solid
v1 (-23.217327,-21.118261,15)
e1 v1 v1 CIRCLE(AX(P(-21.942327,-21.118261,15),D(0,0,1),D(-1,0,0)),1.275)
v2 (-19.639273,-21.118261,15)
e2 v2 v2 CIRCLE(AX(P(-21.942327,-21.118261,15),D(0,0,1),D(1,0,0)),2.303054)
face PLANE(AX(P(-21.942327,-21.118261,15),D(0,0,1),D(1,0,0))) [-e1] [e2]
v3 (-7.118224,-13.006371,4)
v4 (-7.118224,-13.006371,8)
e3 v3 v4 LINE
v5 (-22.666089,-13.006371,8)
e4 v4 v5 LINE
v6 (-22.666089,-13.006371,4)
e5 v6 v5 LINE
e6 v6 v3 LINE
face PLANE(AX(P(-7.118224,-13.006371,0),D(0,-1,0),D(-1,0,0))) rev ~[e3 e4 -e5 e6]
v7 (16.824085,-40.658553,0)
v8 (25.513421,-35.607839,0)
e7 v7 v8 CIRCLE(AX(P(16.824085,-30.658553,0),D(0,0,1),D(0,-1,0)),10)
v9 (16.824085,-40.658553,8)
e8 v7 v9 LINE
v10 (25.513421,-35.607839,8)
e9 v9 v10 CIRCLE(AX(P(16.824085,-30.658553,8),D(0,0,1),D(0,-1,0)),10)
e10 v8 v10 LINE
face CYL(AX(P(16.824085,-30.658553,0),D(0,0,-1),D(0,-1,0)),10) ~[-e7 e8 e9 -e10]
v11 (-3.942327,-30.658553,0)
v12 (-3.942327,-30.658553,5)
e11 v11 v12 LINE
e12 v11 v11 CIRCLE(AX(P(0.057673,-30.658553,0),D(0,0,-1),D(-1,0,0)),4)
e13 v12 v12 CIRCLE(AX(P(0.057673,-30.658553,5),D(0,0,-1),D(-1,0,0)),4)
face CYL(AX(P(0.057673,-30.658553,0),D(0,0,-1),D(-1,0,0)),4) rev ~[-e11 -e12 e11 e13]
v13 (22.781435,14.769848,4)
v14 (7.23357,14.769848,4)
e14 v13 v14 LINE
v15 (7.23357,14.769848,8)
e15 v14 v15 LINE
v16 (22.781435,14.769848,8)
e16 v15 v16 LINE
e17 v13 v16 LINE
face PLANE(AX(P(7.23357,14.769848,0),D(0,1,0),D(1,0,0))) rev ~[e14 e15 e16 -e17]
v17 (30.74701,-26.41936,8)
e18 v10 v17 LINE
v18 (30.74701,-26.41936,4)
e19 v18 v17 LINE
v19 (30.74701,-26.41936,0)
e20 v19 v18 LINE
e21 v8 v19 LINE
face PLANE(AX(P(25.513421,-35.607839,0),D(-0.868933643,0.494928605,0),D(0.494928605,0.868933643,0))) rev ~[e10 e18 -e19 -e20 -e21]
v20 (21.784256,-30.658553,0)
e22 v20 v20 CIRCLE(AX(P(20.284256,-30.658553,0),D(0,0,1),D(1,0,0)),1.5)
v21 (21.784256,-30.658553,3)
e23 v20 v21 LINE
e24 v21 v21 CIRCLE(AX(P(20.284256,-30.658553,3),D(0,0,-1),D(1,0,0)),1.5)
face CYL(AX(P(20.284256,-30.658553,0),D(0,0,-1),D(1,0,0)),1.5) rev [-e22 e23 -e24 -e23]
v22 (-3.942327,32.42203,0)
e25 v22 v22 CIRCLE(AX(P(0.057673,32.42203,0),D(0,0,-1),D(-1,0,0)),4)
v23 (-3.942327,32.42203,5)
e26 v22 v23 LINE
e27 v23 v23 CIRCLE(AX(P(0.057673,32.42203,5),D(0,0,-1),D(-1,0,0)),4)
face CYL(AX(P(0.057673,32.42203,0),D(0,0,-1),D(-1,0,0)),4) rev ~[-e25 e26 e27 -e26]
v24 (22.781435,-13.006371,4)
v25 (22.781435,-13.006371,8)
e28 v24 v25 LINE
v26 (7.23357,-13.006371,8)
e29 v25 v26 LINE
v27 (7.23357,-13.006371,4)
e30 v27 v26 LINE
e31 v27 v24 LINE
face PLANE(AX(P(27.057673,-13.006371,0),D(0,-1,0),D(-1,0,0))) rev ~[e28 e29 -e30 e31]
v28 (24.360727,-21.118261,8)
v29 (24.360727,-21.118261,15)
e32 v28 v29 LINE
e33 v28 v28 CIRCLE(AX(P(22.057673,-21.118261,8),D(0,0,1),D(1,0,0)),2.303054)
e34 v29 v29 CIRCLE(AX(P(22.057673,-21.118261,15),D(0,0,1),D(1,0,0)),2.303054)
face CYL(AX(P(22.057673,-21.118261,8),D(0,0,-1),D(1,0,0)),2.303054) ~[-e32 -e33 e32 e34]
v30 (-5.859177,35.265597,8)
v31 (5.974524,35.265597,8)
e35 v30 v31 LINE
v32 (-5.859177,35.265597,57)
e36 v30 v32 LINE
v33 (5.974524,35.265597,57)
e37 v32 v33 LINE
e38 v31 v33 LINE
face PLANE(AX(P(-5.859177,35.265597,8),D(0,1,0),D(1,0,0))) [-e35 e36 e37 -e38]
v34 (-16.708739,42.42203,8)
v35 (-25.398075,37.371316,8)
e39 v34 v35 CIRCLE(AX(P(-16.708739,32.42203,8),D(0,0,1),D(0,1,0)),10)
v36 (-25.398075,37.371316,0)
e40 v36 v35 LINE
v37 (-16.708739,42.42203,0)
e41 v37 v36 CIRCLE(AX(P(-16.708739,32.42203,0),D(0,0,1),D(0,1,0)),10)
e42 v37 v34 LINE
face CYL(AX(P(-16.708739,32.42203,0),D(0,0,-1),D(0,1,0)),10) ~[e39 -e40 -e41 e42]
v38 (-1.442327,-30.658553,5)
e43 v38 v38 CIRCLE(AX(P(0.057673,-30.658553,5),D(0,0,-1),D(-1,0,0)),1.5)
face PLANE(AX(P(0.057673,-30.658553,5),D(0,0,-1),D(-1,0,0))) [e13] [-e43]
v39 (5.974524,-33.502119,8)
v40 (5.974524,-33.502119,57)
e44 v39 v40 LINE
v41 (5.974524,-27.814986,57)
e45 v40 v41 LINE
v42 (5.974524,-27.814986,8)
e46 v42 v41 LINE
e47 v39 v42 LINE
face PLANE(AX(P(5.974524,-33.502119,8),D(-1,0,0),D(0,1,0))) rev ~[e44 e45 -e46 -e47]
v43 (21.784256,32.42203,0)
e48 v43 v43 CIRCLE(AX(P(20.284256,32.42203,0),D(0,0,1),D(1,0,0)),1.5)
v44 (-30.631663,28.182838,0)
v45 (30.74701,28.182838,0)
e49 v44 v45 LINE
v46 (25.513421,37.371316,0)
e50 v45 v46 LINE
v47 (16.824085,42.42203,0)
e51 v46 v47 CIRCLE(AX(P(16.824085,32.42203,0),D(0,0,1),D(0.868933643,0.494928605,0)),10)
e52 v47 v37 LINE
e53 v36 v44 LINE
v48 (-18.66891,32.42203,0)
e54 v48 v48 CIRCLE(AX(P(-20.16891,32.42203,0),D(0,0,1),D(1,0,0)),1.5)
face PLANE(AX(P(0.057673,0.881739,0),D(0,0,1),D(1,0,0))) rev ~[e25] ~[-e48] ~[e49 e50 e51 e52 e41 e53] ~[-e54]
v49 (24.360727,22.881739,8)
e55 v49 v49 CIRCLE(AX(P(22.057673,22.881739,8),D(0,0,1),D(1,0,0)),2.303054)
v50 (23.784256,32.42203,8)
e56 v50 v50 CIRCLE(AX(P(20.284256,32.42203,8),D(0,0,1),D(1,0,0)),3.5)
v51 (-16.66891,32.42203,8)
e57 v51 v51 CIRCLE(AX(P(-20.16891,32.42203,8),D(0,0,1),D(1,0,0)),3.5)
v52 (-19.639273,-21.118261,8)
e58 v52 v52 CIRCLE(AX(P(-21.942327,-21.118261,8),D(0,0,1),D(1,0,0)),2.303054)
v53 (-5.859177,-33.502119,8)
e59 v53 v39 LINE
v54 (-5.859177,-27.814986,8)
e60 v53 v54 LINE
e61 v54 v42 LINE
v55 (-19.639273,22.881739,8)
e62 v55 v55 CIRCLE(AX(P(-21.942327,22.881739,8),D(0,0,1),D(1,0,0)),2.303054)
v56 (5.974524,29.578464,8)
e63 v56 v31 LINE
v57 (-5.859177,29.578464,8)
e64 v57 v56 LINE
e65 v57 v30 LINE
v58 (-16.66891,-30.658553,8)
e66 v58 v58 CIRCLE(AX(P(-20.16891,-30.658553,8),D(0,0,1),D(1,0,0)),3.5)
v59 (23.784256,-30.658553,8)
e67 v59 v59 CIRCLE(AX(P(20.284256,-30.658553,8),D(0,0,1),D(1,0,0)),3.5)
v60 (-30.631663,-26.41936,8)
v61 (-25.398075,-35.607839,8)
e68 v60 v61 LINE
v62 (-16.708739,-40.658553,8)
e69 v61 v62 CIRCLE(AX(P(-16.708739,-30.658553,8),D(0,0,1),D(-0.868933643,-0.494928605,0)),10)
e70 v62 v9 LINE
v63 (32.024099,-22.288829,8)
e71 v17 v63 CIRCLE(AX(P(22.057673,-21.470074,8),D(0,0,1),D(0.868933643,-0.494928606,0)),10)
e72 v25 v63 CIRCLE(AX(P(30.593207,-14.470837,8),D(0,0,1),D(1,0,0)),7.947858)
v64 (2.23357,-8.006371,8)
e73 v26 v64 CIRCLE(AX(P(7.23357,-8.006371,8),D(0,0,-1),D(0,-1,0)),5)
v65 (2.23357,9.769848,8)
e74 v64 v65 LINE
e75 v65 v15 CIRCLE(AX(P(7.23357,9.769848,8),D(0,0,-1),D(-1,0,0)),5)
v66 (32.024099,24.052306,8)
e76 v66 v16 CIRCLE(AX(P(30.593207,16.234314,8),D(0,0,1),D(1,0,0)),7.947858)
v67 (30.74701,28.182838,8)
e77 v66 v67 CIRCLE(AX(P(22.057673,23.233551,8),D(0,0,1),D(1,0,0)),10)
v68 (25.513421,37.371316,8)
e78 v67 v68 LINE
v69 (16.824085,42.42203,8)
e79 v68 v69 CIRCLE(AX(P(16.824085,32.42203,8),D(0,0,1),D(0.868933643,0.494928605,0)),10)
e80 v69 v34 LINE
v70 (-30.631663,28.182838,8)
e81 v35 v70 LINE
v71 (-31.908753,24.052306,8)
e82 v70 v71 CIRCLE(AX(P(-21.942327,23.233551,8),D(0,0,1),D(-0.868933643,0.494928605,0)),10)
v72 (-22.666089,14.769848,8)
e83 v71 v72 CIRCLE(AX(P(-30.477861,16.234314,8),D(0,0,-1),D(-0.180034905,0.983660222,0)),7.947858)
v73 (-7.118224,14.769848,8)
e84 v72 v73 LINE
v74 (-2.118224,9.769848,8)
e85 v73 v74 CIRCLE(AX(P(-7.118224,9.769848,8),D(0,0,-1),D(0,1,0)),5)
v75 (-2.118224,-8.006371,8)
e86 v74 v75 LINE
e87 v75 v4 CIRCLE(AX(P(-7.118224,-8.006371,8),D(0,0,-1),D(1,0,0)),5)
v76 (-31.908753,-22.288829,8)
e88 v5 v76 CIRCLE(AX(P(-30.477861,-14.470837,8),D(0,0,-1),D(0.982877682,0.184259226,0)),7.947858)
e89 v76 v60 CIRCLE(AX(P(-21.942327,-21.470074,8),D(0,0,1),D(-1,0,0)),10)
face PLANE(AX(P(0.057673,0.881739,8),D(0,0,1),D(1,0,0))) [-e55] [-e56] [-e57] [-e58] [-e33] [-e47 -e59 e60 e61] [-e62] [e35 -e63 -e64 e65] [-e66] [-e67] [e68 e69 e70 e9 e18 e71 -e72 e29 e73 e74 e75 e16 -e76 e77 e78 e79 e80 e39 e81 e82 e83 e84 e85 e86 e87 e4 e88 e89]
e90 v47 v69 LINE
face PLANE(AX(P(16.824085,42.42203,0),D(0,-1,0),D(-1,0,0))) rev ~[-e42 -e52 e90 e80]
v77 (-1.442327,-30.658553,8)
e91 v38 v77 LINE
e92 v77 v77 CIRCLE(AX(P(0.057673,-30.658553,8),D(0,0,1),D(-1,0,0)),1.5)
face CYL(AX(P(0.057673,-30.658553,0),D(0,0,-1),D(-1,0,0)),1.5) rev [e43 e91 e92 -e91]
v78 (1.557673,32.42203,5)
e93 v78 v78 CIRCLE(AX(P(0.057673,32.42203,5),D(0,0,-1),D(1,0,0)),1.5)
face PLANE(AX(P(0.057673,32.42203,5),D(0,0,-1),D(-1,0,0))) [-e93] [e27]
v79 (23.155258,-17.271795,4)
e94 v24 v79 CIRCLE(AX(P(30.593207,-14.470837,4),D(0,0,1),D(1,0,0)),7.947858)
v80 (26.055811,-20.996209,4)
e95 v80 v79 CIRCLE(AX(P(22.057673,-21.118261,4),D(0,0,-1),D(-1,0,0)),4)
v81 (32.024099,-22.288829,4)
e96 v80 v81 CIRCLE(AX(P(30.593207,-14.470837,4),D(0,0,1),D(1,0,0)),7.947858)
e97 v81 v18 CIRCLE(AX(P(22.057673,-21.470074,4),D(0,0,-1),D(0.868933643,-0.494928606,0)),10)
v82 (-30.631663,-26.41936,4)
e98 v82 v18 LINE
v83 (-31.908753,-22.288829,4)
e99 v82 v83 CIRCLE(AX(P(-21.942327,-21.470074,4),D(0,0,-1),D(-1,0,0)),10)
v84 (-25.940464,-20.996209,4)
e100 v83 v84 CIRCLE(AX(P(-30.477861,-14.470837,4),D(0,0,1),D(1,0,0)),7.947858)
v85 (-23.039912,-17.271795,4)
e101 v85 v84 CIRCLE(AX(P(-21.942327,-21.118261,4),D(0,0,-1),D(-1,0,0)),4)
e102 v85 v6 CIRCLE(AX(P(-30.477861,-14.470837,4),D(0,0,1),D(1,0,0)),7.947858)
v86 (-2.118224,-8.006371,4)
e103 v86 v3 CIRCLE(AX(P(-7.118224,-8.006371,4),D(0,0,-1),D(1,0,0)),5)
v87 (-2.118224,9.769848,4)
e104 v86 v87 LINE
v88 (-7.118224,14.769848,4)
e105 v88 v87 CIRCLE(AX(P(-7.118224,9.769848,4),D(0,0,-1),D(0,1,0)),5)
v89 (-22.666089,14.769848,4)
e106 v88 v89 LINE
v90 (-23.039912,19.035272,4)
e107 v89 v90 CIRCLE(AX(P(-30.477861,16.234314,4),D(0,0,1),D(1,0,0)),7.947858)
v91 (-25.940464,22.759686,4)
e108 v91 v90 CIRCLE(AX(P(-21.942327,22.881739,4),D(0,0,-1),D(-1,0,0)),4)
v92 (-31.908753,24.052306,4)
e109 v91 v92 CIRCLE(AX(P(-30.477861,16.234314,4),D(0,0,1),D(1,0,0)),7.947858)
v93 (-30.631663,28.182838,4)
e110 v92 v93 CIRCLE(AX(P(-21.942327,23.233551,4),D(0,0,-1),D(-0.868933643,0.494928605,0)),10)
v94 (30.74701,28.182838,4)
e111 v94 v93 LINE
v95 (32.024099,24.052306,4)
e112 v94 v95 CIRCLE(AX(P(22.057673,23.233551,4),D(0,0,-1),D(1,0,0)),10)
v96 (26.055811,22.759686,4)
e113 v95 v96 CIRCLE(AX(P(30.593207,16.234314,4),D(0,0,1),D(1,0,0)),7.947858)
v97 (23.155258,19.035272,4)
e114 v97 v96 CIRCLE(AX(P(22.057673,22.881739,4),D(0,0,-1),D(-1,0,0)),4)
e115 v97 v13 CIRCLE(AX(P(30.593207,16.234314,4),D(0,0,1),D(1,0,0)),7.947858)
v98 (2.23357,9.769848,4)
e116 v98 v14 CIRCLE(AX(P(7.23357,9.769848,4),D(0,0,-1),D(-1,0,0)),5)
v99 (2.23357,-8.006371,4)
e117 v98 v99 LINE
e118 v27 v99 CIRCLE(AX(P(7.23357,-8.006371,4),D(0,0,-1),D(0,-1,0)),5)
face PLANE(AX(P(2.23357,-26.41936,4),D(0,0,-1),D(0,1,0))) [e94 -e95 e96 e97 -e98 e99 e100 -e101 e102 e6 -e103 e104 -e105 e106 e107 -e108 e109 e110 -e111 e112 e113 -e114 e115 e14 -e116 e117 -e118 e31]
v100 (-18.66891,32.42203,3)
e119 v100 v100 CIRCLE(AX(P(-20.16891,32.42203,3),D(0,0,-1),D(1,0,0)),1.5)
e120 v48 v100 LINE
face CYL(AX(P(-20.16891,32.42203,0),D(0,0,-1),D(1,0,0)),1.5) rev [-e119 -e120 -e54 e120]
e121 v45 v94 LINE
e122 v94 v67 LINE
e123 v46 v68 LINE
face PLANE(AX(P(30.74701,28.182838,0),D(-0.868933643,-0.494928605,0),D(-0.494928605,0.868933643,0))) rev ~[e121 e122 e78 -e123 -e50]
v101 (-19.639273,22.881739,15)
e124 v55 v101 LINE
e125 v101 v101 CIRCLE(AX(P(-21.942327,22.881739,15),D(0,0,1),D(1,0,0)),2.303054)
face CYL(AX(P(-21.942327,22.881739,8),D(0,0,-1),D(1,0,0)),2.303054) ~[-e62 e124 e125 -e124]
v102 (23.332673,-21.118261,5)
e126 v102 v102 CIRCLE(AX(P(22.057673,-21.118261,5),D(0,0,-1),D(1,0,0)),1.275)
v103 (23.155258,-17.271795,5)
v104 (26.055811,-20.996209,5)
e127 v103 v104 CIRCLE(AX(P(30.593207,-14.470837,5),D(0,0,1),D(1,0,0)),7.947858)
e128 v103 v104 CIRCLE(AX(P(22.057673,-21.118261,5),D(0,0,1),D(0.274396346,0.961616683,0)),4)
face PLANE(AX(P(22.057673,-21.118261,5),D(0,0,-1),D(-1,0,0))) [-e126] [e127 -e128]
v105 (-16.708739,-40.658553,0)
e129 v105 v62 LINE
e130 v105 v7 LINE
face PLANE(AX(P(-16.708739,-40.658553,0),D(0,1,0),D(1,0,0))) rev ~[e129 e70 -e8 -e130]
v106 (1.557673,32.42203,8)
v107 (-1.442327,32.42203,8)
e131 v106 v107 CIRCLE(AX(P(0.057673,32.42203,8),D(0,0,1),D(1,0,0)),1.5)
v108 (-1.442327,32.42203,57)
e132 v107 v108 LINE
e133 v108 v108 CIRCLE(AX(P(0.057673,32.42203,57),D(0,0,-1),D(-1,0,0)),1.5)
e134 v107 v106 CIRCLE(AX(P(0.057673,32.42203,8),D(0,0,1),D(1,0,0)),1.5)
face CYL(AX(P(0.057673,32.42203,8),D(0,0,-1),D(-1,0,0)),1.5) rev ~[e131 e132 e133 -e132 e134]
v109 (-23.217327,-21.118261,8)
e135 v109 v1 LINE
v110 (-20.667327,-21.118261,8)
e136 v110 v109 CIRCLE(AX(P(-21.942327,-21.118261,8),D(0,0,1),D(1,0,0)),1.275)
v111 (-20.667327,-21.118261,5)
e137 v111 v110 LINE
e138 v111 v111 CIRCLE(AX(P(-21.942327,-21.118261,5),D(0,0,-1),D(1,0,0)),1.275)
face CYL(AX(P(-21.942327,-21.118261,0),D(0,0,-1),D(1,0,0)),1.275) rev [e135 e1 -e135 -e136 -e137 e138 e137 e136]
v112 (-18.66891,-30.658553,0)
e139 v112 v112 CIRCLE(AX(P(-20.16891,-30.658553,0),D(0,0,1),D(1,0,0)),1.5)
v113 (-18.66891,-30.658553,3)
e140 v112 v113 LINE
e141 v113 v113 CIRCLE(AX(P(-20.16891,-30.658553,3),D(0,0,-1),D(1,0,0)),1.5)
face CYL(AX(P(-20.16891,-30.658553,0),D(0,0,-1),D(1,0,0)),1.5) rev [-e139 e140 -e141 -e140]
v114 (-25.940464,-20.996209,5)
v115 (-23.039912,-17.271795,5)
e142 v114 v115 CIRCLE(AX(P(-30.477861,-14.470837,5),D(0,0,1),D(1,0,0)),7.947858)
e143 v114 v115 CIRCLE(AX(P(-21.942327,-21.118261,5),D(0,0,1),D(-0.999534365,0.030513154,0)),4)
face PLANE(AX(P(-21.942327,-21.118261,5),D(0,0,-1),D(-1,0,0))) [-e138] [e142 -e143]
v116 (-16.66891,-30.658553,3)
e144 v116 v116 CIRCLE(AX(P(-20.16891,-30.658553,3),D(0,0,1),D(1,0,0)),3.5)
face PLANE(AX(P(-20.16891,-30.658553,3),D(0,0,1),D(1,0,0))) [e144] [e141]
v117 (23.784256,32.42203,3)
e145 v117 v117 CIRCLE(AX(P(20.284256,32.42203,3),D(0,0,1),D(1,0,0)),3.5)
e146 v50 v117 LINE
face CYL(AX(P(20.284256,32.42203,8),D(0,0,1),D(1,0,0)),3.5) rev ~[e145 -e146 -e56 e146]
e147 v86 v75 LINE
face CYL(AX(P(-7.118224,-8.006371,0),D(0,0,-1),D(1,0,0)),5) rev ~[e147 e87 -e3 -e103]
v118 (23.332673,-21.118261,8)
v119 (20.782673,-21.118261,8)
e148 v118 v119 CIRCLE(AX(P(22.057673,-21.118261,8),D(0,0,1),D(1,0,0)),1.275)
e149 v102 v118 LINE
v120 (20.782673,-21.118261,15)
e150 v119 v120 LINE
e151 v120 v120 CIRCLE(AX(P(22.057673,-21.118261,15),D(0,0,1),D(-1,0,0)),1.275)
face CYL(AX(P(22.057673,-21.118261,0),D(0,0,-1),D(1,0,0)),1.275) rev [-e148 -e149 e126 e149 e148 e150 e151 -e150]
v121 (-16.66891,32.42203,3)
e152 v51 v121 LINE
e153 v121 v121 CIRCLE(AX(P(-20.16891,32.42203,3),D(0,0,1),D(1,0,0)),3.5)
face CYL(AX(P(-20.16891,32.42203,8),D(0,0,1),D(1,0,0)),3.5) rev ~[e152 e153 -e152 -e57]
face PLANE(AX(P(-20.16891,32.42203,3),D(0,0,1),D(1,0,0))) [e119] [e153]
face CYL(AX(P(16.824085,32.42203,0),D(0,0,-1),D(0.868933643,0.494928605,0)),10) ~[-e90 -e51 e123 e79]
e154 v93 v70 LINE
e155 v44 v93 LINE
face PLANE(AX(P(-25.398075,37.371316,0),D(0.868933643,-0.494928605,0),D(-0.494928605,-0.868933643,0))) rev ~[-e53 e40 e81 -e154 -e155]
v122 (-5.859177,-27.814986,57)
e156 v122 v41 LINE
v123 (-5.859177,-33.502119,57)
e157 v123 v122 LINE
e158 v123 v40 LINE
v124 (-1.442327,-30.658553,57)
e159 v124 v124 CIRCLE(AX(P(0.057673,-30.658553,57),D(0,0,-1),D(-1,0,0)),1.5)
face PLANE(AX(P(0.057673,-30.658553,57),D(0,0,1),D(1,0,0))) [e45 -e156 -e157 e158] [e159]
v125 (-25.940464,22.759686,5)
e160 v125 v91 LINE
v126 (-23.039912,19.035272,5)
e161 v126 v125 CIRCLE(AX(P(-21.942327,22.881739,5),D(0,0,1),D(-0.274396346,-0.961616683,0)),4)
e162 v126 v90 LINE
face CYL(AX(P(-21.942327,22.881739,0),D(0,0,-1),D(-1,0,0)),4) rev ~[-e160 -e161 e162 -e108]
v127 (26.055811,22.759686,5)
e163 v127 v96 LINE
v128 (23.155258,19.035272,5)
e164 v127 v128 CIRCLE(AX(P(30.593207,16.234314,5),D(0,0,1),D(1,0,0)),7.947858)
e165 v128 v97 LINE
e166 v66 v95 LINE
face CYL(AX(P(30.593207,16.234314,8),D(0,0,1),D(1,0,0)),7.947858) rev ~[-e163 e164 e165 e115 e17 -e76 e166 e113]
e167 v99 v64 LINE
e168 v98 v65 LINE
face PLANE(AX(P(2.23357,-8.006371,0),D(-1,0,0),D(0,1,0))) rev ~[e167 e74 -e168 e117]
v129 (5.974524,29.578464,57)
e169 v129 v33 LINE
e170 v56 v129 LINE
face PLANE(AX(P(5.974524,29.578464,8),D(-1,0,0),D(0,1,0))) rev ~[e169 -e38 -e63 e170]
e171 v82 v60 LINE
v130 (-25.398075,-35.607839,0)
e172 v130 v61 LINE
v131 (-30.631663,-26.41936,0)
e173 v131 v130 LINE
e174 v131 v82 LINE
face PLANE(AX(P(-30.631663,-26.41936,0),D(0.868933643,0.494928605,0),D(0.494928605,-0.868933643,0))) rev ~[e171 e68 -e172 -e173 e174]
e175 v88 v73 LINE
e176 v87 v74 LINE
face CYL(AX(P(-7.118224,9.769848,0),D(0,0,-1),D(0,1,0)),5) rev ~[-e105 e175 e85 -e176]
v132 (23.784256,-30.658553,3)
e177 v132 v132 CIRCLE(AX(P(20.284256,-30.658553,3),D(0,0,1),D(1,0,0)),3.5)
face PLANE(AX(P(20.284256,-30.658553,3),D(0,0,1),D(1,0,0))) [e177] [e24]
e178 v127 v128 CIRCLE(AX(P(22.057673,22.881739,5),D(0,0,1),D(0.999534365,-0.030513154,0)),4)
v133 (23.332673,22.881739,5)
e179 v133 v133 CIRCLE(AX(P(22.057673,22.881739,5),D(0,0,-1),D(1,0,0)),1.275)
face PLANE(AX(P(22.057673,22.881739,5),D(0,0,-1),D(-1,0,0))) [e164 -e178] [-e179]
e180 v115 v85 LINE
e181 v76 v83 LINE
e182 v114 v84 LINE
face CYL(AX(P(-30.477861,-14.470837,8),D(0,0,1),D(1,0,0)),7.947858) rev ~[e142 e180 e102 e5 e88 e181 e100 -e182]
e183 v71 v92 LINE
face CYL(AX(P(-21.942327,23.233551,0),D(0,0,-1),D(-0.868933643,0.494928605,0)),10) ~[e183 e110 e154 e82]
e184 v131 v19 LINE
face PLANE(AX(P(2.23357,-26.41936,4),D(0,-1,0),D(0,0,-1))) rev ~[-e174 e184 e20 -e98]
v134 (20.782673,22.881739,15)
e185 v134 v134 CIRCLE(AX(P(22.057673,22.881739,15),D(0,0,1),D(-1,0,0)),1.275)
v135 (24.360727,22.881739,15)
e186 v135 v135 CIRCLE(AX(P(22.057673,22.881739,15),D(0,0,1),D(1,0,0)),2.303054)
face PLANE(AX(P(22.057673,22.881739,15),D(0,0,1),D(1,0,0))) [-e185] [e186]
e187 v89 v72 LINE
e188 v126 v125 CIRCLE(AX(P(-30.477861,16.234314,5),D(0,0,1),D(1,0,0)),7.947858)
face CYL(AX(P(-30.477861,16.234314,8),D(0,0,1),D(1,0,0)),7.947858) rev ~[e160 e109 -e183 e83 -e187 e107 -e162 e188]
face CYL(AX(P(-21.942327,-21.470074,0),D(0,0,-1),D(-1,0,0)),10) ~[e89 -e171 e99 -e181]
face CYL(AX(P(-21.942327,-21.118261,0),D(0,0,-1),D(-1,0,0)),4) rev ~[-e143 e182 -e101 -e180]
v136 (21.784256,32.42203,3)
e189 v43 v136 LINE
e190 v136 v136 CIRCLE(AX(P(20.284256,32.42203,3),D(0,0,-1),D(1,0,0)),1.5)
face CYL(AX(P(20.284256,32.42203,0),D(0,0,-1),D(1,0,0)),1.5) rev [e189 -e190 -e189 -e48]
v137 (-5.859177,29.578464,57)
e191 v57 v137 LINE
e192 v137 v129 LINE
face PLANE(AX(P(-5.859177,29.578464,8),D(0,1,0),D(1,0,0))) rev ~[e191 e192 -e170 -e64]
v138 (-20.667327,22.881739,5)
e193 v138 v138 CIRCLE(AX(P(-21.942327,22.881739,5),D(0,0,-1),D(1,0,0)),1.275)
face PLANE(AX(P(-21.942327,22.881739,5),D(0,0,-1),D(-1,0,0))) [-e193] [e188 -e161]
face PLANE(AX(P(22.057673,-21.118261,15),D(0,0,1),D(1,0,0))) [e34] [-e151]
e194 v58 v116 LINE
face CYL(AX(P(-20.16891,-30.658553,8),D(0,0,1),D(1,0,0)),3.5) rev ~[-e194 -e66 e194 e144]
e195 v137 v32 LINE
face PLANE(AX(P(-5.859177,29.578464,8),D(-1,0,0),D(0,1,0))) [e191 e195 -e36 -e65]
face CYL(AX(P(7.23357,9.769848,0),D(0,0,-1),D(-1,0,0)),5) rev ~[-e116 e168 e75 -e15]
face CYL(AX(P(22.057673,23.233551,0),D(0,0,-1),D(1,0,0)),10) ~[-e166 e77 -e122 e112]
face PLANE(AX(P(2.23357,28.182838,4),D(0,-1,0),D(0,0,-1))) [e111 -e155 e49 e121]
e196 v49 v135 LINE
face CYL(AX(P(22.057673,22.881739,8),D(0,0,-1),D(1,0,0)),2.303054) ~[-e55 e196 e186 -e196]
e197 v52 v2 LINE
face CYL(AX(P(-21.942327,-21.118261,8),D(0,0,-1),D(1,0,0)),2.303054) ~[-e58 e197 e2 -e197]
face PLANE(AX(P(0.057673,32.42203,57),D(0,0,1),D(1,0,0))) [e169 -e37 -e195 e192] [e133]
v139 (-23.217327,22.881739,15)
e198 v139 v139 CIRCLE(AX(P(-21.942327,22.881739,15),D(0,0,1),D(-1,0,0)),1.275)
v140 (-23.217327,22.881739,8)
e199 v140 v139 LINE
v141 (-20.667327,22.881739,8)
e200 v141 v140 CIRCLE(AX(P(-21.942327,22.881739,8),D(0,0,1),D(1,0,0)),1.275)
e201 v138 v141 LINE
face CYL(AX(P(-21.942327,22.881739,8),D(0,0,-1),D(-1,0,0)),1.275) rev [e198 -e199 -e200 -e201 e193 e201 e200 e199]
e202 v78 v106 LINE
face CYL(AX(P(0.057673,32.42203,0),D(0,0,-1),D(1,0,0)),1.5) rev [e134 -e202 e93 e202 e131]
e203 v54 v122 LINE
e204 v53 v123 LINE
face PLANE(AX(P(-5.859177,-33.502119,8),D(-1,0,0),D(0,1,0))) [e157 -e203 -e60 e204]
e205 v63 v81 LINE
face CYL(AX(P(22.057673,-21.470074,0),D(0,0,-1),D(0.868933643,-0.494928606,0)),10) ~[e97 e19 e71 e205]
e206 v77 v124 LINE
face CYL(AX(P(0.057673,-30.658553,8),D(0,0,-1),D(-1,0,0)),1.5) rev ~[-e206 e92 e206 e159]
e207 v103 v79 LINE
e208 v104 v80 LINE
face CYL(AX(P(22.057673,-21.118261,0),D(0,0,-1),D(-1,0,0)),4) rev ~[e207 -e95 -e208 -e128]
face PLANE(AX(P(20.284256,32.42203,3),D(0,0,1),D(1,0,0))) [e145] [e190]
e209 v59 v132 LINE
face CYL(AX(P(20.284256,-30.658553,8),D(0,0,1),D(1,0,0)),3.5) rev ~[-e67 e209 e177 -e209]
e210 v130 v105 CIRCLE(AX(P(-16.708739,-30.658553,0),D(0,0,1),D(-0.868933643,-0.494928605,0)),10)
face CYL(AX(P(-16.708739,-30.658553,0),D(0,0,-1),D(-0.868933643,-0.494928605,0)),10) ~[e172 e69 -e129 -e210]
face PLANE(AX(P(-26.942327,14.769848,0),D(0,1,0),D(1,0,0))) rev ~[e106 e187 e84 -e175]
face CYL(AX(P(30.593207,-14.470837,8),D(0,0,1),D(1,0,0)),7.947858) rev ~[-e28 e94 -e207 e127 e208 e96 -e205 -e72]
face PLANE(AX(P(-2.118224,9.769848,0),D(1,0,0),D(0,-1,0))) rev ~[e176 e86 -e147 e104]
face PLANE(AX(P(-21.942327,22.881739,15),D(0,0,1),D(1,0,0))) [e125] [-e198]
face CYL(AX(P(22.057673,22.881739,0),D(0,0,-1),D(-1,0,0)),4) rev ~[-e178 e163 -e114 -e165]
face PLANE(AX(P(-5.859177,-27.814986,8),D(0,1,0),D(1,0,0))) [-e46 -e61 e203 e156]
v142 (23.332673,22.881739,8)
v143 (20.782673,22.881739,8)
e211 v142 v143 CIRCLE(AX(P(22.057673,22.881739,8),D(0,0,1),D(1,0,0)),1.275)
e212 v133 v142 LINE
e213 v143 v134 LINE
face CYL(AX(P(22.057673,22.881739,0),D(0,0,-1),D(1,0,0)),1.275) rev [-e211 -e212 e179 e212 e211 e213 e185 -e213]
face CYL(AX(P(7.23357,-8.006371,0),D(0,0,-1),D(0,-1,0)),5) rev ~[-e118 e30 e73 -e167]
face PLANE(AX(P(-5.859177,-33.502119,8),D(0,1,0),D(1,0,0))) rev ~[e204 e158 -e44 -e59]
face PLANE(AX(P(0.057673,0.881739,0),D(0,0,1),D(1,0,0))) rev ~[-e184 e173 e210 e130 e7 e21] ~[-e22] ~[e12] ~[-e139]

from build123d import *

# Parameters (mm, degrees)
IZIM1_R                     = 1.5
IZIM1_R_2                   = 1.275
Y_KSEKLIK_EKSTR_ZYON1_DEPTH = 8
IZIM2_R                     = 4
KES_EKSTR_ZYON1_DEPTH       = 5
IZIM3_R                     = 3.5
KES_EKSTR_ZYON2_DEPTH       = 5
IZIM5_W                     = 11.833700998
IZIM5_H                     = 5.687133077
Y_KSEKLIK_EKSTR_ZYON2_DEPTH = 49
IZIM6_R                     = 1.5
KES_EKSTR_ZYON3_DEPTH       = 70
IZIM7_R                     = 7.94785764
KES_EKSTR_ZYON4_DEPTH       = 94.5
IZIM8_R                     = 2.303053837
IZIM8_R_2                   = 1.275
Y_KSEKLIK_EKSTR_ZYON3_DEPTH = 7
IZIM9_W                     = 9.184473095
IZIM9_H                     = 54.60219781
KES_EKSTR_ZYON5_DEPTH       = 49


with BuildPart() as part:
    # Çizim1 → Yükseklik-Ekstrüzyon1 (new body)
    with BuildSketch(Plane.XY):
        with BuildLine():
            Line((-26.942326891, 14.769848309), (-7.118223783, 14.769848309))
            ThreePointArc((-7.118223783, 14.769848309), (-3.582689877, 13.305382214), (-2.118223783, 9.769848309))
            Line((-2.118223783, 9.769848309), (-2.118223783, -8.006371062))
            ThreePointArc((-2.118223783, -8.006371062), (-3.582689877, -11.541904968), (-7.118223783, -13.006371062))
            Line((-7.118223783, -13.006371062), (-26.942326891, -13.006371062))
            ThreePointArc((-26.942326891, -13.006371062), (-30.477860797, -14.470837156), (-31.942326891, -18.006371062))
            Line((-31.942326891, -18.006371062), (-31.942326891, -21.470074229))
            ThreePointArc((-31.942326891, -21.470074229), (-31.6091093, -24.030019123), (-30.63166332, -26.419360282))
            Line((-30.63166332, -26.419360282), (-25.398075072, -35.607838889))
            ThreePointArc((-25.398075072, -35.607838889), (-21.734031643, -39.304154624), (-16.708738643, -40.658552836))
            Line((-16.708738643, -40.658552836), (16.824084861, -40.658552836))
            ThreePointArc((16.824084861, -40.658552836), (21.849377861, -39.304154624), (25.513421289, -35.607838889))
            Line((25.513421289, -35.607838889), (30.747009537, -26.419360282))
            ThreePointArc((30.747009537, -26.419360282), (31.724455518, -24.030019123), (32.057673109, -21.470074229))
            Line((32.057673109, -21.470074229), (32.057673109, -18.006371062))
            ThreePointArc((32.057673109, -18.006371062), (30.593207015, -14.470837156), (27.057673109, -13.006371062))
            Line((27.057673109, -13.006371062), (7.233570001, -13.006371062))
            ThreePointArc((7.233570001, -13.006371062), (3.698036095, -11.541904968), (2.233570001, -8.006371062))
            Line((2.233570001, -8.006371062), (2.233570001, 9.769848309))
            ThreePointArc((2.233570001, 9.769848309), (3.698036095, 13.305382214), (7.233570001, 14.769848309))
            Line((7.233570001, 14.769848309), (27.057673109, 14.769848309))
            ThreePointArc((27.057673109, 14.769848309), (30.593207015, 16.234314403), (32.057673109, 19.769848309))
            Line((32.057673109, 19.769848309), (32.057673109, 23.233551476))
            ThreePointArc((32.057673109, 23.233551476), (31.724455518, 25.793496369), (30.747009537, 28.182837528))
            Line((30.747009537, 28.182837528), (25.513421289, 37.371316135))
            ThreePointArc((25.513421289, 37.371316135), (21.849377861, 41.06763187), (16.824084861, 42.422030083))
            Line((16.824084861, 42.422030083), (-16.708738643, 42.422030083))
            ThreePointArc((-16.708738643, 42.422030083), (-21.734031643, 41.06763187), (-25.398075072, 37.371316135))
            Line((-25.398075072, 37.371316135), (-30.63166332, 28.182837528))
            ThreePointArc((-30.63166332, 28.182837528), (-31.6091093, 25.793496369), (-31.942326891, 23.233551476))
            Line((-31.942326891, 23.233551476), (-31.942326891, 19.769848309))
            ThreePointArc((-31.942326891, 19.769848309), (-30.477860797, 16.234314403), (-26.942326891, 14.769848309))
        make_face()
        with Locations((20.284256069, 32.422030083)):
            Circle(IZIM1_R, mode=Mode.SUBTRACT)
        with Locations((-20.168909852, 32.422030083)):
            Circle(IZIM1_R, mode=Mode.SUBTRACT)
        with Locations((-20.168909852, -30.658552836)):
            Circle(IZIM1_R, mode=Mode.SUBTRACT)
        with Locations((20.284256069, -30.658552836)):
            Circle(IZIM1_R, mode=Mode.SUBTRACT)
        with Locations((22.057673109, -21.118261377)):
            Circle(IZIM1_R_2, mode=Mode.SUBTRACT)
        with Locations((-21.942326891, -21.118261377)):
            Circle(IZIM1_R_2, mode=Mode.SUBTRACT)
        with Locations((22.057673109, 22.881738623)):
            Circle(IZIM1_R_2, mode=Mode.SUBTRACT)
        with Locations((-21.942326891, 22.881738623)):
            Circle(IZIM1_R_2, mode=Mode.SUBTRACT)
        with Locations((0.057673109, 32.422030083)):
            Circle(IZIM1_R, mode=Mode.SUBTRACT)
        with Locations(Location((0.057673109, -30.658552836, 0), (0, 0, 180))):
            Circle(IZIM1_R, mode=Mode.SUBTRACT)
    extrude(amount=Y_KSEKLIK_EKSTR_ZYON1_DEPTH)

    # Çizim2 → Kes-Ekstrüzyon1 (cut)
    with BuildSketch(Plane(origin=(0, 0, 0), x_dir=(-1, 0, 0), z_dir=(0, 0, -1))):
        with Locations((-22.057673109, 22.881738623)):
            Circle(IZIM2_R)
        with Locations((21.942326891, 22.881738623)):
            Circle(IZIM2_R)
        with Locations((-22.057673109, -21.118261377)):
            Circle(IZIM2_R)
        with Locations((21.942326891, -21.118261377)):
            Circle(IZIM2_R)
        with Locations((-0.057673109, 32.422030083)):
            Circle(IZIM2_R)
        with Locations((-0.057673109, -30.658552836)):
            Circle(IZIM2_R)
    extrude(amount=-KES_EKSTR_ZYON1_DEPTH, mode=Mode.SUBTRACT)

    # Çizim3 → Kes-Ekstrüzyon2 (cut)
    with BuildSketch(Plane.XY.offset(8)):
        with Locations((-20.168909852, 32.422030083)):
            Circle(IZIM3_R)
        with Locations((20.284256069, 32.422030083)):
            Circle(IZIM3_R)
        with Locations((20.284256069, -30.658552836)):
            Circle(IZIM3_R)
        with Locations((-20.168909852, -30.658552836)):
            Circle(IZIM3_R)
    extrude(amount=-KES_EKSTR_ZYON2_DEPTH, mode=Mode.SUBTRACT)

    # Çizim5 → Yükseklik-Ekstrüzyon2 (add)
    with BuildSketch(Plane.XY.offset(8)):
        with Locations((0.057673109, 32.422030083)):
            Rectangle(IZIM5_W, IZIM5_H)
        with Locations((0.057673109, -30.658552837)):
            Rectangle(IZIM5_W, IZIM5_H)
    extrude(amount=Y_KSEKLIK_EKSTR_ZYON2_DEPTH)

    # Çizim6 → Kes-Ekstrüzyon3 (cut)
    with BuildSketch(Plane(origin=(0, 0, 8), x_dir=(-1, 0, 0), z_dir=(0, 0, -1))):
        with Locations((-0.057673109, -30.658552836)):
            Circle(IZIM6_R)
        with Locations((-0.057673109, 32.422030083)):
            Circle(IZIM6_R)
    extrude(amount=-KES_EKSTR_ZYON3_DEPTH, mode=Mode.SUBTRACT)

    # Çizim7 → Kes-Ekstrüzyon4 (cut, symmetric)
    with BuildSketch(Plane.XY.offset(8)):
        with Locations((30.593207015, 16.234314403)):
            Circle(IZIM7_R)
        with Locations((-30.477860797, 16.234314403)):
            Circle(IZIM7_R)
        with Locations((30.593207015, -14.470837156)):
            Circle(IZIM7_R)
        with Locations((-30.477860797, -14.470837156)):
            Circle(IZIM7_R)
    extrude(amount=KES_EKSTR_ZYON4_DEPTH, both=True, mode=Mode.SUBTRACT)

    # Çizim8 → Yükseklik-Ekstrüzyon3 (add)
    # profile 1 of 4: a face of its own
    with BuildSketch(Plane.XY.offset(8)):
        with Locations((-21.942326891, 22.881738623)):
            Circle(IZIM8_R)
        with Locations(Location((-21.942326891, 22.881738623, 0), (0, 0, 180))):
            Circle(IZIM8_R_2, mode=Mode.SUBTRACT)
    # profile 2 of 4: a face of its own
    with BuildSketch(Plane.XY.offset(8)):
        with Locations((22.057673109, 22.881738623)):
            Circle(IZIM8_R)
        with Locations(Location((22.057673109, 22.881738623, 0), (0, 0, 180))):
            Circle(IZIM8_R_2, mode=Mode.SUBTRACT)
    # profile 3 of 4: a face of its own
    with BuildSketch(Plane.XY.offset(8)):
        with Locations((-21.942326891, -21.118261377)):
            Circle(IZIM8_R)
        with Locations(Location((-21.942326891, -21.118261377, 0), (0, 0, 180))):
            Circle(IZIM8_R_2, mode=Mode.SUBTRACT)
    # profile 4 of 4: a face of its own
    with BuildSketch(Plane.XY.offset(8)):
        with Locations((22.057673109, -21.118261377)):
            Circle(IZIM8_R)
        with Locations(Location((22.057673109, -21.118261377, 0), (0, 0, 180))):
            Circle(IZIM8_R_2, mode=Mode.SUBTRACT)
    extrude(amount=Y_KSEKLIK_EKSTR_ZYON3_DEPTH)

    # Çizim9 → Kes-Ekstrüzyon5 (cut, symmetric)
    with BuildSketch(Plane(origin=(2.233570001, 0, 0), x_dir=(0, 0, -1), z_dir=(1, 0, 0))):
        with Locations((0.592236548, 0.881738623)):
            Rectangle(IZIM9_W, IZIM9_H)
    extrude(amount=KES_EKSTR_ZYON5_DEPTH, both=True, mode=Mode.SUBTRACT)


solid = part.part
